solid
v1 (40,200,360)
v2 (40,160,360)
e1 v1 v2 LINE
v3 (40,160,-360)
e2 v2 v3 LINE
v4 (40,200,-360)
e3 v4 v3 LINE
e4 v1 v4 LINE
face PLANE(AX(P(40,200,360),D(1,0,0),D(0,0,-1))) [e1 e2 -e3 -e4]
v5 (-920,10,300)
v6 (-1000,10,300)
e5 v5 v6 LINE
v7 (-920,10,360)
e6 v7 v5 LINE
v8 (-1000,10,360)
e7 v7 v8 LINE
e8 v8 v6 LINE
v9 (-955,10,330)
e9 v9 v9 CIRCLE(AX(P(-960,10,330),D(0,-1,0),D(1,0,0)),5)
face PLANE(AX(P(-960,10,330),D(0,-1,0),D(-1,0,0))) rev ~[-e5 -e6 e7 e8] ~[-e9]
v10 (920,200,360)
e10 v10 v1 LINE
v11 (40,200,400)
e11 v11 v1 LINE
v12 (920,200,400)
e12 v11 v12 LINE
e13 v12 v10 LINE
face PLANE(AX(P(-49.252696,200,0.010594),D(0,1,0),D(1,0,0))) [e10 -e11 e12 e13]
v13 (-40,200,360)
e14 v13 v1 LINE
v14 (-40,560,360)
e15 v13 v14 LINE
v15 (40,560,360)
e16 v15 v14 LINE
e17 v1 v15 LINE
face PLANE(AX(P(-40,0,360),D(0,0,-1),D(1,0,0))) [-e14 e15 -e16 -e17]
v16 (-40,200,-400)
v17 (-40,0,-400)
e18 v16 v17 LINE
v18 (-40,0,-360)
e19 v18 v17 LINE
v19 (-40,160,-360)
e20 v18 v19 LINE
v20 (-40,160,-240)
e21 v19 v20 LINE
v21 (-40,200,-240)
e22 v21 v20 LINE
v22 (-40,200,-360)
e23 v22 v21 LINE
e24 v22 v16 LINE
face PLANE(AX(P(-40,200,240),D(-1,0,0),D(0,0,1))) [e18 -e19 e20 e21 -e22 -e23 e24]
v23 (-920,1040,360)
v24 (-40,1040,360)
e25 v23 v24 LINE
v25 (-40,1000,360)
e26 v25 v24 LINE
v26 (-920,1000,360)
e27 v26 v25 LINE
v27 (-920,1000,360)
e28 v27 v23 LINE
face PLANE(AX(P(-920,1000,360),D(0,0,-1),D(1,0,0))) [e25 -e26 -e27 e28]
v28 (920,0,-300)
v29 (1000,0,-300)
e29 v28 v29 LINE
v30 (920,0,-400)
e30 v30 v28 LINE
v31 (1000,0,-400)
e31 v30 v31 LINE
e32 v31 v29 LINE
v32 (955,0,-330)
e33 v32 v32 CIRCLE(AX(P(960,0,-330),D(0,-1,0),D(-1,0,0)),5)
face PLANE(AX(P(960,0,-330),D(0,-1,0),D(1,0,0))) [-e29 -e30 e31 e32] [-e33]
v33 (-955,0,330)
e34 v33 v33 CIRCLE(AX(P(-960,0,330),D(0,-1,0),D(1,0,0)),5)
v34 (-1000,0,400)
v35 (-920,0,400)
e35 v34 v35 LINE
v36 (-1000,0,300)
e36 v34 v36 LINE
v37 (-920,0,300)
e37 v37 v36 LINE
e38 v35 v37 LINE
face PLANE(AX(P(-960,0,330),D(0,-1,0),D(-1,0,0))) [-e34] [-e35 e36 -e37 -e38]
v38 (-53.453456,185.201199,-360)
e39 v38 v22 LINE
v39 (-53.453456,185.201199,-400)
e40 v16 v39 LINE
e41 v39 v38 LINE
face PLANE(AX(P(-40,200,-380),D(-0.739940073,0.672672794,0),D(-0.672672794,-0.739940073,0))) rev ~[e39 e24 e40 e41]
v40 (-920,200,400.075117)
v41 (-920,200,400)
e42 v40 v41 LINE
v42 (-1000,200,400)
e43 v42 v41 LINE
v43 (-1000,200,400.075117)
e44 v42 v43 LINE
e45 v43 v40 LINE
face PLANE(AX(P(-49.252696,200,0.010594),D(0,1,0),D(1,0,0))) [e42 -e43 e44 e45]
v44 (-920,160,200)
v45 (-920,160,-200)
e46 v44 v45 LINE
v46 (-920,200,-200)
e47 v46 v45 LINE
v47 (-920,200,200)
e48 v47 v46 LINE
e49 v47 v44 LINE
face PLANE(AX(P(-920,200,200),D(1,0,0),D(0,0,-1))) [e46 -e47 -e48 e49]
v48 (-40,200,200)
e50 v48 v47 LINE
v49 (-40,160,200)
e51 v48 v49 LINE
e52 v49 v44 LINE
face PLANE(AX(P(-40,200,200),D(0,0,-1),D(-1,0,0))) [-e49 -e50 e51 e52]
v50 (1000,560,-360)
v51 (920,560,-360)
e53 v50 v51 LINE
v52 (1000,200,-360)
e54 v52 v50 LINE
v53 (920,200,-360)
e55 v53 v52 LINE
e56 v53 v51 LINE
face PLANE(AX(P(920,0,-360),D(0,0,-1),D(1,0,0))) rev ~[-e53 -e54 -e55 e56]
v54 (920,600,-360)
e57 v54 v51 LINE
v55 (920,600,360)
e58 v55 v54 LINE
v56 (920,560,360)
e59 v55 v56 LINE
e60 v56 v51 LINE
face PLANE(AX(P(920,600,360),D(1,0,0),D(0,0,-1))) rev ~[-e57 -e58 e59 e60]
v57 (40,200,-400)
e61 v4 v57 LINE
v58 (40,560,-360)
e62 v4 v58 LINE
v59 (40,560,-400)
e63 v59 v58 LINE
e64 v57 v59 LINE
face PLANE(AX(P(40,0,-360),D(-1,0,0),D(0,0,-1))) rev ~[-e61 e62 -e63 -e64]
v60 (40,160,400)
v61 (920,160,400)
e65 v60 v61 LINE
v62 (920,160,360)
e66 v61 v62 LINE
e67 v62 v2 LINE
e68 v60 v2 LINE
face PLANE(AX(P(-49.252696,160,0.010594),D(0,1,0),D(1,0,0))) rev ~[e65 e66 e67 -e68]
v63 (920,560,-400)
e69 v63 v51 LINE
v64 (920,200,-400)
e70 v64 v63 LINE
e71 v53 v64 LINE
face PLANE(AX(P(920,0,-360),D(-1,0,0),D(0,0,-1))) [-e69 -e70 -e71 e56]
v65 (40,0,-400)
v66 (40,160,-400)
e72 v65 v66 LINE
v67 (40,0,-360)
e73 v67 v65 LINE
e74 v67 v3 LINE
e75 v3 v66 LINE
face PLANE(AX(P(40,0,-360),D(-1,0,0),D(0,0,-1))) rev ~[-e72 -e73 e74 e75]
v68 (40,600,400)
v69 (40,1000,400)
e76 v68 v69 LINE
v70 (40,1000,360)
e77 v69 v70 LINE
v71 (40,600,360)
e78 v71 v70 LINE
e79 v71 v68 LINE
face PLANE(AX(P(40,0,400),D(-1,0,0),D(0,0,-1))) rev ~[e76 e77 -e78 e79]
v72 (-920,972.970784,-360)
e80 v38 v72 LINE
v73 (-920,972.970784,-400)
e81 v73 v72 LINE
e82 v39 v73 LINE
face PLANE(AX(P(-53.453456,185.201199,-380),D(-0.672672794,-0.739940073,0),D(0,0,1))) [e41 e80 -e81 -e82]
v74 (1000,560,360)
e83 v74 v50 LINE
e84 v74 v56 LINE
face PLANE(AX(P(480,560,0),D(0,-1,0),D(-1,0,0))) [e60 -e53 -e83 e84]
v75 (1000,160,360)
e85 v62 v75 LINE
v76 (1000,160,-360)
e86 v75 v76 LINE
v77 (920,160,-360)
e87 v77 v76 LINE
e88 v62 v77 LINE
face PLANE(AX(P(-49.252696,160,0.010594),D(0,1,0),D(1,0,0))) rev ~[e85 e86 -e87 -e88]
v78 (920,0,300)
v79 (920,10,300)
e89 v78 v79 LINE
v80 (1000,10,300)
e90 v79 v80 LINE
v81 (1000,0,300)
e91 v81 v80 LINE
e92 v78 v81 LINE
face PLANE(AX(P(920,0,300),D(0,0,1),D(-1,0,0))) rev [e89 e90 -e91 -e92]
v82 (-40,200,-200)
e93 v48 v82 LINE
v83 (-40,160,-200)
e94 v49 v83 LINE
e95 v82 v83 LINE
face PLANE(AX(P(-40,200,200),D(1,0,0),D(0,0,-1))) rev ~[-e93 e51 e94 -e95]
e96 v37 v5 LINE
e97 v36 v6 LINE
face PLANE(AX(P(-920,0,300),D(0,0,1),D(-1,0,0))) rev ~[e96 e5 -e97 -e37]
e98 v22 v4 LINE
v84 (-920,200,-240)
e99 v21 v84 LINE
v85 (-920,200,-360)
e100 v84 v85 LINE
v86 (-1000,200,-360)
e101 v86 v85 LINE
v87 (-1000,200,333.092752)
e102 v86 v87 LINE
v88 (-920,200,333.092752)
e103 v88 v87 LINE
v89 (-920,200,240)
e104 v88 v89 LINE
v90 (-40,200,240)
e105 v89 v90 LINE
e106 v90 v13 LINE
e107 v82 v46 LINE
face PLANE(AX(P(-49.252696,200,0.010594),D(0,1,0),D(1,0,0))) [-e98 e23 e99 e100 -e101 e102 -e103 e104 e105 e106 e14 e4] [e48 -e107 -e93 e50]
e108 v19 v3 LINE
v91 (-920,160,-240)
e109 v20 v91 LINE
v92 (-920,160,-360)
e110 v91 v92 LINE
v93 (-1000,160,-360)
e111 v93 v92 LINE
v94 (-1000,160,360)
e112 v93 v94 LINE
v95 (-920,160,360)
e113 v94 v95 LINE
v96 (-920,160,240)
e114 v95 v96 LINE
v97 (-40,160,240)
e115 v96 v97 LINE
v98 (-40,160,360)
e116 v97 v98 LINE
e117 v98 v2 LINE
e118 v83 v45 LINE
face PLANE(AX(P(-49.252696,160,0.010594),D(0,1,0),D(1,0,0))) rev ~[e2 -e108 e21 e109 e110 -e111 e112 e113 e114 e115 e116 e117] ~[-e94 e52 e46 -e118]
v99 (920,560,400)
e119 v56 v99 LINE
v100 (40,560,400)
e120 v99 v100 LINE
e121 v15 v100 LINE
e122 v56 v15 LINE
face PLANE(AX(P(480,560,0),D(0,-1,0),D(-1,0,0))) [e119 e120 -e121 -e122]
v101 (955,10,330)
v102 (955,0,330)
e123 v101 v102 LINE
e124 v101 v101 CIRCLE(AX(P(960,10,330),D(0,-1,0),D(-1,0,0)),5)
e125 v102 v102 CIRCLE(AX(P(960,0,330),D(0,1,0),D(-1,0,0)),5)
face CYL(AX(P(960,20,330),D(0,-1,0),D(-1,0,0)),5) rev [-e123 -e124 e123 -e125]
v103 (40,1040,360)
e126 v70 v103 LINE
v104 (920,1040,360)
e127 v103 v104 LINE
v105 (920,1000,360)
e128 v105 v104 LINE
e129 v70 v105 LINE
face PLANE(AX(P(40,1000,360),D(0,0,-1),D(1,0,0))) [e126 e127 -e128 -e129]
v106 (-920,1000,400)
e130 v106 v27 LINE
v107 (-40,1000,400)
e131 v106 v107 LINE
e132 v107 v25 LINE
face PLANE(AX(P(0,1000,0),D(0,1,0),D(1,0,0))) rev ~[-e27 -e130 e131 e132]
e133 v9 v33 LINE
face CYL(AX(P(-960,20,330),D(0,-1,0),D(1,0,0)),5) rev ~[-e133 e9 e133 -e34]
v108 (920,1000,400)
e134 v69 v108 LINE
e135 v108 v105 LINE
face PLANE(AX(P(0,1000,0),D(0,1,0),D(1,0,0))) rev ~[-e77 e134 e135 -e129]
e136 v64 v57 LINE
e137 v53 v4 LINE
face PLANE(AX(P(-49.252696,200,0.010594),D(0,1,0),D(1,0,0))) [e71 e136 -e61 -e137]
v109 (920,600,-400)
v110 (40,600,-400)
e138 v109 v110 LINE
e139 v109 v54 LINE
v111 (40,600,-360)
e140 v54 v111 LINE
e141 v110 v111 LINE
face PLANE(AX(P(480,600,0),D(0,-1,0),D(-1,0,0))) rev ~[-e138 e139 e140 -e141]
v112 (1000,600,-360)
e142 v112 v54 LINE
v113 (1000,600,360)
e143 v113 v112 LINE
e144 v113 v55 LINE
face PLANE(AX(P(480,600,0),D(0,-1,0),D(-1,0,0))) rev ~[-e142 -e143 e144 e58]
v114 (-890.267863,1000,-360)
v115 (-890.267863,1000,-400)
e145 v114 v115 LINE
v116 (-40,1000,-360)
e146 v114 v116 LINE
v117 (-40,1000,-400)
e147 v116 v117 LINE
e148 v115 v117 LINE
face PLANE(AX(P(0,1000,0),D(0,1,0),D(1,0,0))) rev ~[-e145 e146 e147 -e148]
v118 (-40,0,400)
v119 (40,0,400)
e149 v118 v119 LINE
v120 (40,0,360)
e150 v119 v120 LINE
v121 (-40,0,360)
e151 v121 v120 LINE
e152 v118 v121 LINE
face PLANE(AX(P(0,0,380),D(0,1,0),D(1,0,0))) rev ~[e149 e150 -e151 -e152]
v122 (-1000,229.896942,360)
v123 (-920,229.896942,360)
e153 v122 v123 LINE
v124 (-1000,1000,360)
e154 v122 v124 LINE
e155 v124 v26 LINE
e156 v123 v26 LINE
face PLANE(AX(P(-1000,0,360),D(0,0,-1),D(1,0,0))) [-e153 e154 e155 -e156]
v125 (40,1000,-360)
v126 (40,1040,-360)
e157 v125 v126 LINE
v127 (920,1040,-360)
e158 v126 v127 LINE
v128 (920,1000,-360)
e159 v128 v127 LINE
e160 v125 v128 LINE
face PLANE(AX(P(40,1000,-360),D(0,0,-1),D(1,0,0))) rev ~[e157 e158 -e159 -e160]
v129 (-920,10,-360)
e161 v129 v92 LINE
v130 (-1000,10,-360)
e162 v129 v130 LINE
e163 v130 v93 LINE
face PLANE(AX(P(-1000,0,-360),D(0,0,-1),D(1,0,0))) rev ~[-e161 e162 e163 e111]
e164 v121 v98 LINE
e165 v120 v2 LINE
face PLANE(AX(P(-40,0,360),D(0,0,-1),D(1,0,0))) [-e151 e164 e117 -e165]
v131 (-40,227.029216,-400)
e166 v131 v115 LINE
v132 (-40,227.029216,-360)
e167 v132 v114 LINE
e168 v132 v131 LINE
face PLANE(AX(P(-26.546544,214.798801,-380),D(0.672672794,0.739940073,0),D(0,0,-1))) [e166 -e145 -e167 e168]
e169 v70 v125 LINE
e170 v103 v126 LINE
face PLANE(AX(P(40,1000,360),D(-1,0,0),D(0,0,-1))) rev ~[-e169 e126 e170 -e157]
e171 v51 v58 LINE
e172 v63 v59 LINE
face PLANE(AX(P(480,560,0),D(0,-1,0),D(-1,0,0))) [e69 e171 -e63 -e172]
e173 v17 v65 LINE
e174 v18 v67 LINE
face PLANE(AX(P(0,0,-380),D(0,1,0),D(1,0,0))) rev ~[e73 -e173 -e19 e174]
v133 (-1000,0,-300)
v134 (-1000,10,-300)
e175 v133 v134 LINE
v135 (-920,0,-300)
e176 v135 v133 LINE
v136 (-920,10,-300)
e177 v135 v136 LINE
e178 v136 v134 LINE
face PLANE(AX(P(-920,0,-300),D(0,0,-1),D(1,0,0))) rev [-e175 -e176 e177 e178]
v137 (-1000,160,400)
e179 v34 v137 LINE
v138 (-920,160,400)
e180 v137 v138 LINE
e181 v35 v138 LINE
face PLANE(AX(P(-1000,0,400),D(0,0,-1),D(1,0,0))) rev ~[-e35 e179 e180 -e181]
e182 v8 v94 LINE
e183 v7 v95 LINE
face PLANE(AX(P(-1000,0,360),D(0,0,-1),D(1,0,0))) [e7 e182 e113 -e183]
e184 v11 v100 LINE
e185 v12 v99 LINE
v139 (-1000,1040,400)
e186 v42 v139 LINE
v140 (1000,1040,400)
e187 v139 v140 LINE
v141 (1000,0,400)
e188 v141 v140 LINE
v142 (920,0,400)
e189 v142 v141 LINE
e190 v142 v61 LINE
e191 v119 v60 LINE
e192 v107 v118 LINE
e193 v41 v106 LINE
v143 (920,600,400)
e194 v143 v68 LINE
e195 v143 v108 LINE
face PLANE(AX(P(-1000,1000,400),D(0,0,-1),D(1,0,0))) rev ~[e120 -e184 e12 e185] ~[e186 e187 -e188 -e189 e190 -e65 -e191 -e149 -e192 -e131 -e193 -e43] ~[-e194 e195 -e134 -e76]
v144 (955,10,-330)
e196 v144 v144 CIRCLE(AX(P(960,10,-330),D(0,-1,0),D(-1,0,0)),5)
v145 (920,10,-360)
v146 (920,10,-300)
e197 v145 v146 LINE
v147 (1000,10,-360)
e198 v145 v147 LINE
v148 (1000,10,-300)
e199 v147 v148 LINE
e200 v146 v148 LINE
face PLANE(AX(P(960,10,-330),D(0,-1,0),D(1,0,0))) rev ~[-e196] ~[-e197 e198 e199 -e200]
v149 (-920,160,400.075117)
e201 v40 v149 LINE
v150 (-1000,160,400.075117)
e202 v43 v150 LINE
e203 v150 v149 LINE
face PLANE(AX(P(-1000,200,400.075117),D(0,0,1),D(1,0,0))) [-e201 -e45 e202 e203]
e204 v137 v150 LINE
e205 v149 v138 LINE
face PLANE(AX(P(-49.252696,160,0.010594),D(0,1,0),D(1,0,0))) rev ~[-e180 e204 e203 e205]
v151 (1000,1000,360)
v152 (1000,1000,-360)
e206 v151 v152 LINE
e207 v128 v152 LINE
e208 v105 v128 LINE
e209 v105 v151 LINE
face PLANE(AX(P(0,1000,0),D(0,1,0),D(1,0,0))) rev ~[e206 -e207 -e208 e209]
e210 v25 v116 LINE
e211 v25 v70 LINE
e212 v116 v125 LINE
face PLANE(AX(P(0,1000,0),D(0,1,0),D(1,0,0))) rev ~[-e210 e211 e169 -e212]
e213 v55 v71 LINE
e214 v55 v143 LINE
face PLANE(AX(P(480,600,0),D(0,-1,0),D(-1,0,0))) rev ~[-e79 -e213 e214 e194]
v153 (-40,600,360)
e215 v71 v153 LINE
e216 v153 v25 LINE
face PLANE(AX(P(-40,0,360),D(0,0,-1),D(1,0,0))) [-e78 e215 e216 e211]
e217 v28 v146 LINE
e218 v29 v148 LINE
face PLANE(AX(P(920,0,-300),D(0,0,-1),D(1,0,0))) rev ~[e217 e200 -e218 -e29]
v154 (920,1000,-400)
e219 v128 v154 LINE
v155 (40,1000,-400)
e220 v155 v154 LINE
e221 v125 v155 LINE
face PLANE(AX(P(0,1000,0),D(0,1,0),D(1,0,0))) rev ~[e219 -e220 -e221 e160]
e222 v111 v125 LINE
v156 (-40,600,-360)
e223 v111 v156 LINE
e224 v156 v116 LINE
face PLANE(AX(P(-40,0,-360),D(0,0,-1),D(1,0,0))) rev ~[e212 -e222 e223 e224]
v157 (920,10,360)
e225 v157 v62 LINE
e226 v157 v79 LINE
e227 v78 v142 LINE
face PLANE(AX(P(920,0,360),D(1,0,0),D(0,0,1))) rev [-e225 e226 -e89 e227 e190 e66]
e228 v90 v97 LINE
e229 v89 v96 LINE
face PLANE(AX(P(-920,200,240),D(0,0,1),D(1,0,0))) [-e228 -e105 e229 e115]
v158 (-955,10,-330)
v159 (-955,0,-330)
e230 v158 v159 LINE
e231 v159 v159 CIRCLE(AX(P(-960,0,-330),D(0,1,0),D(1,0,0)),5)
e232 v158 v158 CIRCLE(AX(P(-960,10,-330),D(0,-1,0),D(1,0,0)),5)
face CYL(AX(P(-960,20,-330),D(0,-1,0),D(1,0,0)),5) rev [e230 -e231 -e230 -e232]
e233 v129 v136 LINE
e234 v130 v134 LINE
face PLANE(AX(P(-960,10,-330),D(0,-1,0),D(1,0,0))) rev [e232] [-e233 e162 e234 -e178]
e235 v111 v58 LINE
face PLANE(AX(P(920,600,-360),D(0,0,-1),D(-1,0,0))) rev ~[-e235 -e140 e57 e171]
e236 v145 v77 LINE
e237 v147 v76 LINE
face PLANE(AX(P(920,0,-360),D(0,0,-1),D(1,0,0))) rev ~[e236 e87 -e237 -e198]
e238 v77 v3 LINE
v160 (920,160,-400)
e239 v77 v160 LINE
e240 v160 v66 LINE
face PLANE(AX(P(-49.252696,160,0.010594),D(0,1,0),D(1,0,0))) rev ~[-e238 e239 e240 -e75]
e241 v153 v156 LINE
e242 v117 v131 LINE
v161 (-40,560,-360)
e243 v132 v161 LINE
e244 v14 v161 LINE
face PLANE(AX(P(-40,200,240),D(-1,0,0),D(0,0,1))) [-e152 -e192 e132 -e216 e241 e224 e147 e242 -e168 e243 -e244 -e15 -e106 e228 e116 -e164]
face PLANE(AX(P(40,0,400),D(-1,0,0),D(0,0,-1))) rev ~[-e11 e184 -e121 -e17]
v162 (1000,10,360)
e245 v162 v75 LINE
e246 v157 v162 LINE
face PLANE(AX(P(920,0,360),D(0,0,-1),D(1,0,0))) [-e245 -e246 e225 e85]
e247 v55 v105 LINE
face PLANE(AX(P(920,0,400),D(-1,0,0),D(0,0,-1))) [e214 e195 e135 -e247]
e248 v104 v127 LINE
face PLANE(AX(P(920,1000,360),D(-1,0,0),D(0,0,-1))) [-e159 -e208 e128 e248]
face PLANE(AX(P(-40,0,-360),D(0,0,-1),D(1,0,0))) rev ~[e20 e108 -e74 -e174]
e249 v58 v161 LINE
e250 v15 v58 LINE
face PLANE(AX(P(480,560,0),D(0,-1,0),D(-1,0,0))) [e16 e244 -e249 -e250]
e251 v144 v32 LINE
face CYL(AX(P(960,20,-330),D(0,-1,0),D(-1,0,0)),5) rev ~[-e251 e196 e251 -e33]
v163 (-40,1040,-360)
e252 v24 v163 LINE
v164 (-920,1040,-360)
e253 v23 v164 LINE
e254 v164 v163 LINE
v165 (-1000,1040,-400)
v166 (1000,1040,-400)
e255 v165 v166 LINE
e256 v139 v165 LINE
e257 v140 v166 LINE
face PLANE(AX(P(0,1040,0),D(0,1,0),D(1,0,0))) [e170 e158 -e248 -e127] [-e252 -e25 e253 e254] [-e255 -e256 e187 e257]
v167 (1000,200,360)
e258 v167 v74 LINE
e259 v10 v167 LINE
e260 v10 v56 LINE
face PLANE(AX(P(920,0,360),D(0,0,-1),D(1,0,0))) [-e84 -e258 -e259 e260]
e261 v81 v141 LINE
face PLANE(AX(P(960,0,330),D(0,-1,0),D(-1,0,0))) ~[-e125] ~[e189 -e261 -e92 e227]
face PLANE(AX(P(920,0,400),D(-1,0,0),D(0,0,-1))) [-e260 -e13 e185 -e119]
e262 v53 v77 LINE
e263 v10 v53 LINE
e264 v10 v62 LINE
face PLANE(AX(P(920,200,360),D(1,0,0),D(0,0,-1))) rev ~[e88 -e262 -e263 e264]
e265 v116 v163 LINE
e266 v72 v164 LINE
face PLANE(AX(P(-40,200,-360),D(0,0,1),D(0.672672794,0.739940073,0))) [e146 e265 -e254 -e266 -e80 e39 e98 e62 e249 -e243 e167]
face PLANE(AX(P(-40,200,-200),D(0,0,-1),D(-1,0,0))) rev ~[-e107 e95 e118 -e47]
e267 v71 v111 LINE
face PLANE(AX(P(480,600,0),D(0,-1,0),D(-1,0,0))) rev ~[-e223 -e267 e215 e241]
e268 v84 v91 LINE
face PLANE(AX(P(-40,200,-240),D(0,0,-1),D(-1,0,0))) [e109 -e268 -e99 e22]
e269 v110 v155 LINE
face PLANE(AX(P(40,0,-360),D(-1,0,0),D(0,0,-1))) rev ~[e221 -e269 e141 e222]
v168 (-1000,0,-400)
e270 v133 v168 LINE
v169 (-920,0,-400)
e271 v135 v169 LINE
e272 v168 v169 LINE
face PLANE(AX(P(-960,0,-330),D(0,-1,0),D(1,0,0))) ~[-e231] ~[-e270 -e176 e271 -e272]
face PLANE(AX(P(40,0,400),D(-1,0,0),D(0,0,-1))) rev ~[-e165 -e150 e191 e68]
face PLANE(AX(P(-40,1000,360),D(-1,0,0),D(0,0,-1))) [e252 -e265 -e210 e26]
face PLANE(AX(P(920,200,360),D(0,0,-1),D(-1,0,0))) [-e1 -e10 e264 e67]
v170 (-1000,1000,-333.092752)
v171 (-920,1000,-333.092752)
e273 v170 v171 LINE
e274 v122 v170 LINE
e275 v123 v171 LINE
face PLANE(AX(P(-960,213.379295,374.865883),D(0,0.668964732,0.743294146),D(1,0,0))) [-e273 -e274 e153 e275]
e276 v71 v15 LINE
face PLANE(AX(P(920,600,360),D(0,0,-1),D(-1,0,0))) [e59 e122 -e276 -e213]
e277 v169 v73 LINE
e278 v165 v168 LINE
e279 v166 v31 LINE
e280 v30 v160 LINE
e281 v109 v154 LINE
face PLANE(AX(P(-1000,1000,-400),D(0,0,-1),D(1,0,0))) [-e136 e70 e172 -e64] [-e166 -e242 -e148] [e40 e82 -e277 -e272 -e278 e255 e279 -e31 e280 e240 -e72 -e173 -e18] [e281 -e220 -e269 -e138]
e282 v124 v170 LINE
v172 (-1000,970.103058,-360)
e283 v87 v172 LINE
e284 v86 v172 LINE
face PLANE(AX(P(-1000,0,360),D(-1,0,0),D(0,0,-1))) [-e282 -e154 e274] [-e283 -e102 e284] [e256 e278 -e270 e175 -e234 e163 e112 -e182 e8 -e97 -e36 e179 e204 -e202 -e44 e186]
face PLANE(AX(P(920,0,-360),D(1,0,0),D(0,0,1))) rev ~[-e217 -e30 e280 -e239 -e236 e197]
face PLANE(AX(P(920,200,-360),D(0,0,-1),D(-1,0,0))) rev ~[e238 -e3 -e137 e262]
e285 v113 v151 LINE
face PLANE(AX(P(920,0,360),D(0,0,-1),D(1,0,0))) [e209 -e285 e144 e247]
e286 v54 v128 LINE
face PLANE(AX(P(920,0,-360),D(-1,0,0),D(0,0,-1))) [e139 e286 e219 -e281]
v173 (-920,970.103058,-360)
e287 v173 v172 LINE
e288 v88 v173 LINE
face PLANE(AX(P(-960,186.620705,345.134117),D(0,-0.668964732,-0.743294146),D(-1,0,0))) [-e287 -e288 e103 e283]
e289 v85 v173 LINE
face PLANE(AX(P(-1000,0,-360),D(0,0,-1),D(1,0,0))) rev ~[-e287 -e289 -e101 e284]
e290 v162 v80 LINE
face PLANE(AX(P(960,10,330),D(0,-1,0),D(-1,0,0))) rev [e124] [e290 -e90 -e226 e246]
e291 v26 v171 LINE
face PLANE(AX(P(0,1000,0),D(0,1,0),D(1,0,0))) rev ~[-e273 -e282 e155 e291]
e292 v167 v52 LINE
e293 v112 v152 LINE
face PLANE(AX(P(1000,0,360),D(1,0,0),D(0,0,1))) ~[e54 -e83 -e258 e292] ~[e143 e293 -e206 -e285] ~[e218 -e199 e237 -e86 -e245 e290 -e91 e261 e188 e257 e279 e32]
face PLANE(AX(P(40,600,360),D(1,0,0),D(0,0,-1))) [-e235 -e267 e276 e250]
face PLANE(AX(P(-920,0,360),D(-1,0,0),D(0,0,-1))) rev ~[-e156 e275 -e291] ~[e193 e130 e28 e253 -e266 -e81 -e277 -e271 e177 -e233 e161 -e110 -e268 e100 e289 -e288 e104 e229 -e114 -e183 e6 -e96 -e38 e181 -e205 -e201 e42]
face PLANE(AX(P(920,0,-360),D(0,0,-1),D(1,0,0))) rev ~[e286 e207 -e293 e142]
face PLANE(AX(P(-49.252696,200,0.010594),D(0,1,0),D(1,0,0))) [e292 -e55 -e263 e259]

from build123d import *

# Parameters (mm, degrees)
SKETCH1_W                      = 80
SKETCH1_H                      = 40
BOSS_EXTRUDE1_DEPTH            = 1000
BOSS_EXTRUDE1_2_DEPTH          = 1000
BOSS_EXTRUDE1_3_DEPTH          = 1000
BOSS_EXTRUDE1_4_DEPTH          = 1000
BOSS_EXTRUDE1_5_DEPTH          = 1000
BOSS_EXTRUDE1_6_DEPTH          = 1000
SKETCH3_W                      = 880
SKETCH3_H                      = 720
SKETCH3_H_2                    = 400
BOSS_EXTRUDE2_DEPTH            = 40
SKETCH4_W                      = 1040
SKETCH4_H                      = 800
SKETCH4_W_2                    = 880
SKETCH4_H_2                    = 720
BOSS_EXTRUDE4_DEPTH            = 40
SKETCH6_W                      = 2000
SKETCH6_H                      = 800
SKETCH6_W_2                    = 880
SKETCH6_H_2                    = 720
BOSS_EXTRUDE5_DEPTH            = 40
SKETCH7_W                      = 80
SKETCH7_H                      = 40
SKETCH8_W                      = 40
SKETCH8_H                      = 40
SKETCH9_W                      = 80
SKETCH9_H                      = 60
BOSS_EXTRUDE6_DEPTH            = 10
F_10_0_10_DIAMETER_HOLE1_D     = 10
F_10_0_10_DIAMETER_HOLE1_DEPTH = 10
MIRROR5_COPY_1_SKETCH_W        = 80
MIRROR5_COPY_1_SKETCH_H        = 60
MIRROR5_COPY_1_DEPTH           = 10
MIRROR5_COPY_2_D               = 10
MIRROR5_COPY_2_DEPTH           = 10


with BuildPart() as part:
    # Sketch1 → Boss-Extrude1 (new body)
    with BuildSketch(Plane(origin=(0, 0, 0), x_dir=(1, 0, 0), z_dir=(0, 1, 0))):
        with Locations((-960, -380)):
            Rectangle(SKETCH1_W, SKETCH1_H)
    extrude(amount=BOSS_EXTRUDE1_DEPTH)



with BuildPart() as body_2:
    # Sketch1 → Boss-Extrude1 2 (new body)
    with BuildSketch(Plane(origin=(0, 0, 0), x_dir=(1, 0, 0), z_dir=(0, 1, 0))):
        with Locations((0, -380)):
            Rectangle(SKETCH1_W, SKETCH1_H)
    extrude(amount=BOSS_EXTRUDE1_2_DEPTH)


with BuildPart() as body_3:
    # Sketch1 → Boss-Extrude1 3 (new body)
    with BuildSketch(Plane(origin=(0, 0, 0), x_dir=(1, 0, 0), z_dir=(0, 1, 0))):
        with Locations((0, 380)):
            Rectangle(SKETCH1_W, SKETCH1_H)
    extrude(amount=BOSS_EXTRUDE1_3_DEPTH)


with BuildPart() as body_4:
    # Sketch1 → Boss-Extrude1 4 (new body)
    with BuildSketch(Plane(origin=(0, 0, 0), x_dir=(1, 0, 0), z_dir=(0, 1, 0))):
        with Locations((-960, 380)):
            Rectangle(SKETCH1_W, SKETCH1_H)
    extrude(amount=BOSS_EXTRUDE1_4_DEPTH)


with BuildPart() as body_5:
    # Sketch1 → Boss-Extrude1 5 (new body)
    with BuildSketch(Plane(origin=(0, 0, 0), x_dir=(1, 0, 0), z_dir=(0, 1, 0))):
        with Locations((960, -380)):
            Rectangle(SKETCH1_W, SKETCH1_H)
    extrude(amount=BOSS_EXTRUDE1_5_DEPTH)


with BuildPart() as body_6:
    # Sketch1 → Boss-Extrude1 6 (new body)
    with BuildSketch(Plane(origin=(0, 0, 0), x_dir=(1, 0, 0), z_dir=(0, 1, 0))):
        with Locations((960, 380)):
            Rectangle(SKETCH1_W, SKETCH1_H)
    extrude(amount=BOSS_EXTRUDE1_6_DEPTH)


with BuildPart() as part_1:
    add(part.part)

    add(body_2.part)  # Boss-Extrude2 merges body 2

    add(body_3.part)  # Boss-Extrude2 merges body 3

    add(body_4.part)  # Boss-Extrude2 merges body 4

    add(body_5.part)  # Boss-Extrude2 merges body 5

    add(body_6.part)  # Boss-Extrude2 merges body 6
    # Sketch3 → Boss-Extrude2 (add)
    with BuildSketch(Plane(origin=(0, 200, 0), x_dir=(-1, 0, 0), z_dir=(0, -1, 0))):
        Polygon((920, -240), (40, -240), (40, -400), (-1000, -400), (-1000, 400), (40, 400), (40, 240), (920, 240), (920, 400), (1000, 400), (1000, -400.075117412), (920, -400.075117412), align=None)
        with Locations((-480, 0)):
            Rectangle(SKETCH3_W, SKETCH3_H, mode=Mode.SUBTRACT)
        with Locations((480, 0)):
            Rectangle(SKETCH3_W, SKETCH3_H_2, mode=Mode.SUBTRACT)
    extrude(amount=BOSS_EXTRUDE2_DEPTH)

    # Sketch4 → Boss-Extrude4 (add)
    with BuildSketch(Plane(origin=(0, 600, 0), x_dir=(-1, 0, 0), z_dir=(0, -1, 0))):
        with Locations((-480, 0)):
            Rectangle(SKETCH4_W, SKETCH4_H)
        with Locations((-480, 0)):
            Rectangle(SKETCH4_W_2, SKETCH4_H_2, mode=Mode.SUBTRACT)
    extrude(amount=BOSS_EXTRUDE4_DEPTH)

    # Sketch6 → Boss-Extrude5 (add)
    with BuildSketch(Plane(origin=(0, 1000, 0), x_dir=(1, 0, 0), z_dir=(0, 1, 0))):
        Rectangle(SKETCH6_W, SKETCH6_H)
        with Locations((-480, 0)):
            Rectangle(SKETCH6_W_2, SKETCH6_H_2, mode=Mode.SUBTRACT)
        with Locations((480, 0)):
            Rectangle(SKETCH6_W_2, SKETCH6_H_2, mode=Mode.SUBTRACT)
    extrude(amount=BOSS_EXTRUDE5_DEPTH)

    # Sweep1: sweep along a curve in space
    with BuildLine() as sweep1_path:
        Line((-960, 200, 360), (-960, 1000, -360))
    # Sketch7 → Sweep1 (sweep)
    with BuildSketch(Plane(origin=(-960, 200, 360), x_dir=(1, 0, 0), z_dir=(0, 0.7432941462471683, -0.6689647316224475))):
        Rectangle(SKETCH7_W, SKETCH7_H)
    sweep(path=sweep1_path.line)

    # Sweep2: sweep along a curve in space
    with BuildLine() as sweep2_path:
        Line((-40, 200, -380), (-920, 1000, -380))
    # Sketch8 → Sweep2 (sweep)
    with BuildSketch(Plane(origin=(-40, 200, -380), x_dir=(0, 0, 1), z_dir=(-0.7399400733959437, 0.6726727939963126, -3.6407320166765e-15))):
        Rectangle(SKETCH8_W, SKETCH8_H)
    sweep(path=sweep2_path.line)

    # Sketch9 → Boss-Extrude6 (add)
    with BuildSketch(Plane.XZ):
        with Locations((960, -330)):
            Rectangle(SKETCH9_W, SKETCH9_H)
    boss_extrude6 = extrude(amount=-BOSS_EXTRUDE6_DEPTH)

    # Ø10.0 (10) Diameter Hole1
    with Locations(Plane(origin=(0, 10, 0), x_dir=(1, 0, 0), z_dir=(0, 1, 0))):
        with Locations((960, 330)):
            f_10_0_10_diameter_hole1 = Hole(F_10_0_10_DIAMETER_HOLE1_D / 2, depth=F_10_0_10_DIAMETER_HOLE1_DEPTH)

    # Mirror4: Boss-Extrude6, Ø10.0 (10) Diameter Hole1 across plane
    add(boss_extrude6.mirror(Plane.XY))
    add(f_10_0_10_diameter_hole1.mirror(Plane.XY), mode=Mode.SUBTRACT)

    # Mirror5: Boss-Extrude6, Ø10.0 (10) Diameter Hole1 across plane
    add(boss_extrude6.mirror(Plane(origin=(0, 0, 0), x_dir=(0, 0, 1), z_dir=(1, 0, 0))))
    add(f_10_0_10_diameter_hole1.mirror(Plane(origin=(0, 0, 0), x_dir=(0, 0, 1), z_dir=(1, 0, 0))), mode=Mode.SUBTRACT)

    # Mirror5 copy 1 sketch → Mirror5 copy 1 (add)
    with BuildSketch(Plane(origin=(0, 0, 0), x_dir=(-1, 0, 0), z_dir=(0, -1, 0))):
        with Locations((960, -330)):
            Rectangle(MIRROR5_COPY_1_SKETCH_W, MIRROR5_COPY_1_SKETCH_H)
    extrude(amount=-MIRROR5_COPY_1_DEPTH)

    # Mirror5 copy 2
    with Locations(Plane(origin=(0, 10, 0), x_dir=(-1, 0, 0), z_dir=(0, 1, 0))):
        with Locations((960, 330)):
            Hole(MIRROR5_COPY_2_D / 2, depth=MIRROR5_COPY_2_DEPTH)


solid = part_1.part
